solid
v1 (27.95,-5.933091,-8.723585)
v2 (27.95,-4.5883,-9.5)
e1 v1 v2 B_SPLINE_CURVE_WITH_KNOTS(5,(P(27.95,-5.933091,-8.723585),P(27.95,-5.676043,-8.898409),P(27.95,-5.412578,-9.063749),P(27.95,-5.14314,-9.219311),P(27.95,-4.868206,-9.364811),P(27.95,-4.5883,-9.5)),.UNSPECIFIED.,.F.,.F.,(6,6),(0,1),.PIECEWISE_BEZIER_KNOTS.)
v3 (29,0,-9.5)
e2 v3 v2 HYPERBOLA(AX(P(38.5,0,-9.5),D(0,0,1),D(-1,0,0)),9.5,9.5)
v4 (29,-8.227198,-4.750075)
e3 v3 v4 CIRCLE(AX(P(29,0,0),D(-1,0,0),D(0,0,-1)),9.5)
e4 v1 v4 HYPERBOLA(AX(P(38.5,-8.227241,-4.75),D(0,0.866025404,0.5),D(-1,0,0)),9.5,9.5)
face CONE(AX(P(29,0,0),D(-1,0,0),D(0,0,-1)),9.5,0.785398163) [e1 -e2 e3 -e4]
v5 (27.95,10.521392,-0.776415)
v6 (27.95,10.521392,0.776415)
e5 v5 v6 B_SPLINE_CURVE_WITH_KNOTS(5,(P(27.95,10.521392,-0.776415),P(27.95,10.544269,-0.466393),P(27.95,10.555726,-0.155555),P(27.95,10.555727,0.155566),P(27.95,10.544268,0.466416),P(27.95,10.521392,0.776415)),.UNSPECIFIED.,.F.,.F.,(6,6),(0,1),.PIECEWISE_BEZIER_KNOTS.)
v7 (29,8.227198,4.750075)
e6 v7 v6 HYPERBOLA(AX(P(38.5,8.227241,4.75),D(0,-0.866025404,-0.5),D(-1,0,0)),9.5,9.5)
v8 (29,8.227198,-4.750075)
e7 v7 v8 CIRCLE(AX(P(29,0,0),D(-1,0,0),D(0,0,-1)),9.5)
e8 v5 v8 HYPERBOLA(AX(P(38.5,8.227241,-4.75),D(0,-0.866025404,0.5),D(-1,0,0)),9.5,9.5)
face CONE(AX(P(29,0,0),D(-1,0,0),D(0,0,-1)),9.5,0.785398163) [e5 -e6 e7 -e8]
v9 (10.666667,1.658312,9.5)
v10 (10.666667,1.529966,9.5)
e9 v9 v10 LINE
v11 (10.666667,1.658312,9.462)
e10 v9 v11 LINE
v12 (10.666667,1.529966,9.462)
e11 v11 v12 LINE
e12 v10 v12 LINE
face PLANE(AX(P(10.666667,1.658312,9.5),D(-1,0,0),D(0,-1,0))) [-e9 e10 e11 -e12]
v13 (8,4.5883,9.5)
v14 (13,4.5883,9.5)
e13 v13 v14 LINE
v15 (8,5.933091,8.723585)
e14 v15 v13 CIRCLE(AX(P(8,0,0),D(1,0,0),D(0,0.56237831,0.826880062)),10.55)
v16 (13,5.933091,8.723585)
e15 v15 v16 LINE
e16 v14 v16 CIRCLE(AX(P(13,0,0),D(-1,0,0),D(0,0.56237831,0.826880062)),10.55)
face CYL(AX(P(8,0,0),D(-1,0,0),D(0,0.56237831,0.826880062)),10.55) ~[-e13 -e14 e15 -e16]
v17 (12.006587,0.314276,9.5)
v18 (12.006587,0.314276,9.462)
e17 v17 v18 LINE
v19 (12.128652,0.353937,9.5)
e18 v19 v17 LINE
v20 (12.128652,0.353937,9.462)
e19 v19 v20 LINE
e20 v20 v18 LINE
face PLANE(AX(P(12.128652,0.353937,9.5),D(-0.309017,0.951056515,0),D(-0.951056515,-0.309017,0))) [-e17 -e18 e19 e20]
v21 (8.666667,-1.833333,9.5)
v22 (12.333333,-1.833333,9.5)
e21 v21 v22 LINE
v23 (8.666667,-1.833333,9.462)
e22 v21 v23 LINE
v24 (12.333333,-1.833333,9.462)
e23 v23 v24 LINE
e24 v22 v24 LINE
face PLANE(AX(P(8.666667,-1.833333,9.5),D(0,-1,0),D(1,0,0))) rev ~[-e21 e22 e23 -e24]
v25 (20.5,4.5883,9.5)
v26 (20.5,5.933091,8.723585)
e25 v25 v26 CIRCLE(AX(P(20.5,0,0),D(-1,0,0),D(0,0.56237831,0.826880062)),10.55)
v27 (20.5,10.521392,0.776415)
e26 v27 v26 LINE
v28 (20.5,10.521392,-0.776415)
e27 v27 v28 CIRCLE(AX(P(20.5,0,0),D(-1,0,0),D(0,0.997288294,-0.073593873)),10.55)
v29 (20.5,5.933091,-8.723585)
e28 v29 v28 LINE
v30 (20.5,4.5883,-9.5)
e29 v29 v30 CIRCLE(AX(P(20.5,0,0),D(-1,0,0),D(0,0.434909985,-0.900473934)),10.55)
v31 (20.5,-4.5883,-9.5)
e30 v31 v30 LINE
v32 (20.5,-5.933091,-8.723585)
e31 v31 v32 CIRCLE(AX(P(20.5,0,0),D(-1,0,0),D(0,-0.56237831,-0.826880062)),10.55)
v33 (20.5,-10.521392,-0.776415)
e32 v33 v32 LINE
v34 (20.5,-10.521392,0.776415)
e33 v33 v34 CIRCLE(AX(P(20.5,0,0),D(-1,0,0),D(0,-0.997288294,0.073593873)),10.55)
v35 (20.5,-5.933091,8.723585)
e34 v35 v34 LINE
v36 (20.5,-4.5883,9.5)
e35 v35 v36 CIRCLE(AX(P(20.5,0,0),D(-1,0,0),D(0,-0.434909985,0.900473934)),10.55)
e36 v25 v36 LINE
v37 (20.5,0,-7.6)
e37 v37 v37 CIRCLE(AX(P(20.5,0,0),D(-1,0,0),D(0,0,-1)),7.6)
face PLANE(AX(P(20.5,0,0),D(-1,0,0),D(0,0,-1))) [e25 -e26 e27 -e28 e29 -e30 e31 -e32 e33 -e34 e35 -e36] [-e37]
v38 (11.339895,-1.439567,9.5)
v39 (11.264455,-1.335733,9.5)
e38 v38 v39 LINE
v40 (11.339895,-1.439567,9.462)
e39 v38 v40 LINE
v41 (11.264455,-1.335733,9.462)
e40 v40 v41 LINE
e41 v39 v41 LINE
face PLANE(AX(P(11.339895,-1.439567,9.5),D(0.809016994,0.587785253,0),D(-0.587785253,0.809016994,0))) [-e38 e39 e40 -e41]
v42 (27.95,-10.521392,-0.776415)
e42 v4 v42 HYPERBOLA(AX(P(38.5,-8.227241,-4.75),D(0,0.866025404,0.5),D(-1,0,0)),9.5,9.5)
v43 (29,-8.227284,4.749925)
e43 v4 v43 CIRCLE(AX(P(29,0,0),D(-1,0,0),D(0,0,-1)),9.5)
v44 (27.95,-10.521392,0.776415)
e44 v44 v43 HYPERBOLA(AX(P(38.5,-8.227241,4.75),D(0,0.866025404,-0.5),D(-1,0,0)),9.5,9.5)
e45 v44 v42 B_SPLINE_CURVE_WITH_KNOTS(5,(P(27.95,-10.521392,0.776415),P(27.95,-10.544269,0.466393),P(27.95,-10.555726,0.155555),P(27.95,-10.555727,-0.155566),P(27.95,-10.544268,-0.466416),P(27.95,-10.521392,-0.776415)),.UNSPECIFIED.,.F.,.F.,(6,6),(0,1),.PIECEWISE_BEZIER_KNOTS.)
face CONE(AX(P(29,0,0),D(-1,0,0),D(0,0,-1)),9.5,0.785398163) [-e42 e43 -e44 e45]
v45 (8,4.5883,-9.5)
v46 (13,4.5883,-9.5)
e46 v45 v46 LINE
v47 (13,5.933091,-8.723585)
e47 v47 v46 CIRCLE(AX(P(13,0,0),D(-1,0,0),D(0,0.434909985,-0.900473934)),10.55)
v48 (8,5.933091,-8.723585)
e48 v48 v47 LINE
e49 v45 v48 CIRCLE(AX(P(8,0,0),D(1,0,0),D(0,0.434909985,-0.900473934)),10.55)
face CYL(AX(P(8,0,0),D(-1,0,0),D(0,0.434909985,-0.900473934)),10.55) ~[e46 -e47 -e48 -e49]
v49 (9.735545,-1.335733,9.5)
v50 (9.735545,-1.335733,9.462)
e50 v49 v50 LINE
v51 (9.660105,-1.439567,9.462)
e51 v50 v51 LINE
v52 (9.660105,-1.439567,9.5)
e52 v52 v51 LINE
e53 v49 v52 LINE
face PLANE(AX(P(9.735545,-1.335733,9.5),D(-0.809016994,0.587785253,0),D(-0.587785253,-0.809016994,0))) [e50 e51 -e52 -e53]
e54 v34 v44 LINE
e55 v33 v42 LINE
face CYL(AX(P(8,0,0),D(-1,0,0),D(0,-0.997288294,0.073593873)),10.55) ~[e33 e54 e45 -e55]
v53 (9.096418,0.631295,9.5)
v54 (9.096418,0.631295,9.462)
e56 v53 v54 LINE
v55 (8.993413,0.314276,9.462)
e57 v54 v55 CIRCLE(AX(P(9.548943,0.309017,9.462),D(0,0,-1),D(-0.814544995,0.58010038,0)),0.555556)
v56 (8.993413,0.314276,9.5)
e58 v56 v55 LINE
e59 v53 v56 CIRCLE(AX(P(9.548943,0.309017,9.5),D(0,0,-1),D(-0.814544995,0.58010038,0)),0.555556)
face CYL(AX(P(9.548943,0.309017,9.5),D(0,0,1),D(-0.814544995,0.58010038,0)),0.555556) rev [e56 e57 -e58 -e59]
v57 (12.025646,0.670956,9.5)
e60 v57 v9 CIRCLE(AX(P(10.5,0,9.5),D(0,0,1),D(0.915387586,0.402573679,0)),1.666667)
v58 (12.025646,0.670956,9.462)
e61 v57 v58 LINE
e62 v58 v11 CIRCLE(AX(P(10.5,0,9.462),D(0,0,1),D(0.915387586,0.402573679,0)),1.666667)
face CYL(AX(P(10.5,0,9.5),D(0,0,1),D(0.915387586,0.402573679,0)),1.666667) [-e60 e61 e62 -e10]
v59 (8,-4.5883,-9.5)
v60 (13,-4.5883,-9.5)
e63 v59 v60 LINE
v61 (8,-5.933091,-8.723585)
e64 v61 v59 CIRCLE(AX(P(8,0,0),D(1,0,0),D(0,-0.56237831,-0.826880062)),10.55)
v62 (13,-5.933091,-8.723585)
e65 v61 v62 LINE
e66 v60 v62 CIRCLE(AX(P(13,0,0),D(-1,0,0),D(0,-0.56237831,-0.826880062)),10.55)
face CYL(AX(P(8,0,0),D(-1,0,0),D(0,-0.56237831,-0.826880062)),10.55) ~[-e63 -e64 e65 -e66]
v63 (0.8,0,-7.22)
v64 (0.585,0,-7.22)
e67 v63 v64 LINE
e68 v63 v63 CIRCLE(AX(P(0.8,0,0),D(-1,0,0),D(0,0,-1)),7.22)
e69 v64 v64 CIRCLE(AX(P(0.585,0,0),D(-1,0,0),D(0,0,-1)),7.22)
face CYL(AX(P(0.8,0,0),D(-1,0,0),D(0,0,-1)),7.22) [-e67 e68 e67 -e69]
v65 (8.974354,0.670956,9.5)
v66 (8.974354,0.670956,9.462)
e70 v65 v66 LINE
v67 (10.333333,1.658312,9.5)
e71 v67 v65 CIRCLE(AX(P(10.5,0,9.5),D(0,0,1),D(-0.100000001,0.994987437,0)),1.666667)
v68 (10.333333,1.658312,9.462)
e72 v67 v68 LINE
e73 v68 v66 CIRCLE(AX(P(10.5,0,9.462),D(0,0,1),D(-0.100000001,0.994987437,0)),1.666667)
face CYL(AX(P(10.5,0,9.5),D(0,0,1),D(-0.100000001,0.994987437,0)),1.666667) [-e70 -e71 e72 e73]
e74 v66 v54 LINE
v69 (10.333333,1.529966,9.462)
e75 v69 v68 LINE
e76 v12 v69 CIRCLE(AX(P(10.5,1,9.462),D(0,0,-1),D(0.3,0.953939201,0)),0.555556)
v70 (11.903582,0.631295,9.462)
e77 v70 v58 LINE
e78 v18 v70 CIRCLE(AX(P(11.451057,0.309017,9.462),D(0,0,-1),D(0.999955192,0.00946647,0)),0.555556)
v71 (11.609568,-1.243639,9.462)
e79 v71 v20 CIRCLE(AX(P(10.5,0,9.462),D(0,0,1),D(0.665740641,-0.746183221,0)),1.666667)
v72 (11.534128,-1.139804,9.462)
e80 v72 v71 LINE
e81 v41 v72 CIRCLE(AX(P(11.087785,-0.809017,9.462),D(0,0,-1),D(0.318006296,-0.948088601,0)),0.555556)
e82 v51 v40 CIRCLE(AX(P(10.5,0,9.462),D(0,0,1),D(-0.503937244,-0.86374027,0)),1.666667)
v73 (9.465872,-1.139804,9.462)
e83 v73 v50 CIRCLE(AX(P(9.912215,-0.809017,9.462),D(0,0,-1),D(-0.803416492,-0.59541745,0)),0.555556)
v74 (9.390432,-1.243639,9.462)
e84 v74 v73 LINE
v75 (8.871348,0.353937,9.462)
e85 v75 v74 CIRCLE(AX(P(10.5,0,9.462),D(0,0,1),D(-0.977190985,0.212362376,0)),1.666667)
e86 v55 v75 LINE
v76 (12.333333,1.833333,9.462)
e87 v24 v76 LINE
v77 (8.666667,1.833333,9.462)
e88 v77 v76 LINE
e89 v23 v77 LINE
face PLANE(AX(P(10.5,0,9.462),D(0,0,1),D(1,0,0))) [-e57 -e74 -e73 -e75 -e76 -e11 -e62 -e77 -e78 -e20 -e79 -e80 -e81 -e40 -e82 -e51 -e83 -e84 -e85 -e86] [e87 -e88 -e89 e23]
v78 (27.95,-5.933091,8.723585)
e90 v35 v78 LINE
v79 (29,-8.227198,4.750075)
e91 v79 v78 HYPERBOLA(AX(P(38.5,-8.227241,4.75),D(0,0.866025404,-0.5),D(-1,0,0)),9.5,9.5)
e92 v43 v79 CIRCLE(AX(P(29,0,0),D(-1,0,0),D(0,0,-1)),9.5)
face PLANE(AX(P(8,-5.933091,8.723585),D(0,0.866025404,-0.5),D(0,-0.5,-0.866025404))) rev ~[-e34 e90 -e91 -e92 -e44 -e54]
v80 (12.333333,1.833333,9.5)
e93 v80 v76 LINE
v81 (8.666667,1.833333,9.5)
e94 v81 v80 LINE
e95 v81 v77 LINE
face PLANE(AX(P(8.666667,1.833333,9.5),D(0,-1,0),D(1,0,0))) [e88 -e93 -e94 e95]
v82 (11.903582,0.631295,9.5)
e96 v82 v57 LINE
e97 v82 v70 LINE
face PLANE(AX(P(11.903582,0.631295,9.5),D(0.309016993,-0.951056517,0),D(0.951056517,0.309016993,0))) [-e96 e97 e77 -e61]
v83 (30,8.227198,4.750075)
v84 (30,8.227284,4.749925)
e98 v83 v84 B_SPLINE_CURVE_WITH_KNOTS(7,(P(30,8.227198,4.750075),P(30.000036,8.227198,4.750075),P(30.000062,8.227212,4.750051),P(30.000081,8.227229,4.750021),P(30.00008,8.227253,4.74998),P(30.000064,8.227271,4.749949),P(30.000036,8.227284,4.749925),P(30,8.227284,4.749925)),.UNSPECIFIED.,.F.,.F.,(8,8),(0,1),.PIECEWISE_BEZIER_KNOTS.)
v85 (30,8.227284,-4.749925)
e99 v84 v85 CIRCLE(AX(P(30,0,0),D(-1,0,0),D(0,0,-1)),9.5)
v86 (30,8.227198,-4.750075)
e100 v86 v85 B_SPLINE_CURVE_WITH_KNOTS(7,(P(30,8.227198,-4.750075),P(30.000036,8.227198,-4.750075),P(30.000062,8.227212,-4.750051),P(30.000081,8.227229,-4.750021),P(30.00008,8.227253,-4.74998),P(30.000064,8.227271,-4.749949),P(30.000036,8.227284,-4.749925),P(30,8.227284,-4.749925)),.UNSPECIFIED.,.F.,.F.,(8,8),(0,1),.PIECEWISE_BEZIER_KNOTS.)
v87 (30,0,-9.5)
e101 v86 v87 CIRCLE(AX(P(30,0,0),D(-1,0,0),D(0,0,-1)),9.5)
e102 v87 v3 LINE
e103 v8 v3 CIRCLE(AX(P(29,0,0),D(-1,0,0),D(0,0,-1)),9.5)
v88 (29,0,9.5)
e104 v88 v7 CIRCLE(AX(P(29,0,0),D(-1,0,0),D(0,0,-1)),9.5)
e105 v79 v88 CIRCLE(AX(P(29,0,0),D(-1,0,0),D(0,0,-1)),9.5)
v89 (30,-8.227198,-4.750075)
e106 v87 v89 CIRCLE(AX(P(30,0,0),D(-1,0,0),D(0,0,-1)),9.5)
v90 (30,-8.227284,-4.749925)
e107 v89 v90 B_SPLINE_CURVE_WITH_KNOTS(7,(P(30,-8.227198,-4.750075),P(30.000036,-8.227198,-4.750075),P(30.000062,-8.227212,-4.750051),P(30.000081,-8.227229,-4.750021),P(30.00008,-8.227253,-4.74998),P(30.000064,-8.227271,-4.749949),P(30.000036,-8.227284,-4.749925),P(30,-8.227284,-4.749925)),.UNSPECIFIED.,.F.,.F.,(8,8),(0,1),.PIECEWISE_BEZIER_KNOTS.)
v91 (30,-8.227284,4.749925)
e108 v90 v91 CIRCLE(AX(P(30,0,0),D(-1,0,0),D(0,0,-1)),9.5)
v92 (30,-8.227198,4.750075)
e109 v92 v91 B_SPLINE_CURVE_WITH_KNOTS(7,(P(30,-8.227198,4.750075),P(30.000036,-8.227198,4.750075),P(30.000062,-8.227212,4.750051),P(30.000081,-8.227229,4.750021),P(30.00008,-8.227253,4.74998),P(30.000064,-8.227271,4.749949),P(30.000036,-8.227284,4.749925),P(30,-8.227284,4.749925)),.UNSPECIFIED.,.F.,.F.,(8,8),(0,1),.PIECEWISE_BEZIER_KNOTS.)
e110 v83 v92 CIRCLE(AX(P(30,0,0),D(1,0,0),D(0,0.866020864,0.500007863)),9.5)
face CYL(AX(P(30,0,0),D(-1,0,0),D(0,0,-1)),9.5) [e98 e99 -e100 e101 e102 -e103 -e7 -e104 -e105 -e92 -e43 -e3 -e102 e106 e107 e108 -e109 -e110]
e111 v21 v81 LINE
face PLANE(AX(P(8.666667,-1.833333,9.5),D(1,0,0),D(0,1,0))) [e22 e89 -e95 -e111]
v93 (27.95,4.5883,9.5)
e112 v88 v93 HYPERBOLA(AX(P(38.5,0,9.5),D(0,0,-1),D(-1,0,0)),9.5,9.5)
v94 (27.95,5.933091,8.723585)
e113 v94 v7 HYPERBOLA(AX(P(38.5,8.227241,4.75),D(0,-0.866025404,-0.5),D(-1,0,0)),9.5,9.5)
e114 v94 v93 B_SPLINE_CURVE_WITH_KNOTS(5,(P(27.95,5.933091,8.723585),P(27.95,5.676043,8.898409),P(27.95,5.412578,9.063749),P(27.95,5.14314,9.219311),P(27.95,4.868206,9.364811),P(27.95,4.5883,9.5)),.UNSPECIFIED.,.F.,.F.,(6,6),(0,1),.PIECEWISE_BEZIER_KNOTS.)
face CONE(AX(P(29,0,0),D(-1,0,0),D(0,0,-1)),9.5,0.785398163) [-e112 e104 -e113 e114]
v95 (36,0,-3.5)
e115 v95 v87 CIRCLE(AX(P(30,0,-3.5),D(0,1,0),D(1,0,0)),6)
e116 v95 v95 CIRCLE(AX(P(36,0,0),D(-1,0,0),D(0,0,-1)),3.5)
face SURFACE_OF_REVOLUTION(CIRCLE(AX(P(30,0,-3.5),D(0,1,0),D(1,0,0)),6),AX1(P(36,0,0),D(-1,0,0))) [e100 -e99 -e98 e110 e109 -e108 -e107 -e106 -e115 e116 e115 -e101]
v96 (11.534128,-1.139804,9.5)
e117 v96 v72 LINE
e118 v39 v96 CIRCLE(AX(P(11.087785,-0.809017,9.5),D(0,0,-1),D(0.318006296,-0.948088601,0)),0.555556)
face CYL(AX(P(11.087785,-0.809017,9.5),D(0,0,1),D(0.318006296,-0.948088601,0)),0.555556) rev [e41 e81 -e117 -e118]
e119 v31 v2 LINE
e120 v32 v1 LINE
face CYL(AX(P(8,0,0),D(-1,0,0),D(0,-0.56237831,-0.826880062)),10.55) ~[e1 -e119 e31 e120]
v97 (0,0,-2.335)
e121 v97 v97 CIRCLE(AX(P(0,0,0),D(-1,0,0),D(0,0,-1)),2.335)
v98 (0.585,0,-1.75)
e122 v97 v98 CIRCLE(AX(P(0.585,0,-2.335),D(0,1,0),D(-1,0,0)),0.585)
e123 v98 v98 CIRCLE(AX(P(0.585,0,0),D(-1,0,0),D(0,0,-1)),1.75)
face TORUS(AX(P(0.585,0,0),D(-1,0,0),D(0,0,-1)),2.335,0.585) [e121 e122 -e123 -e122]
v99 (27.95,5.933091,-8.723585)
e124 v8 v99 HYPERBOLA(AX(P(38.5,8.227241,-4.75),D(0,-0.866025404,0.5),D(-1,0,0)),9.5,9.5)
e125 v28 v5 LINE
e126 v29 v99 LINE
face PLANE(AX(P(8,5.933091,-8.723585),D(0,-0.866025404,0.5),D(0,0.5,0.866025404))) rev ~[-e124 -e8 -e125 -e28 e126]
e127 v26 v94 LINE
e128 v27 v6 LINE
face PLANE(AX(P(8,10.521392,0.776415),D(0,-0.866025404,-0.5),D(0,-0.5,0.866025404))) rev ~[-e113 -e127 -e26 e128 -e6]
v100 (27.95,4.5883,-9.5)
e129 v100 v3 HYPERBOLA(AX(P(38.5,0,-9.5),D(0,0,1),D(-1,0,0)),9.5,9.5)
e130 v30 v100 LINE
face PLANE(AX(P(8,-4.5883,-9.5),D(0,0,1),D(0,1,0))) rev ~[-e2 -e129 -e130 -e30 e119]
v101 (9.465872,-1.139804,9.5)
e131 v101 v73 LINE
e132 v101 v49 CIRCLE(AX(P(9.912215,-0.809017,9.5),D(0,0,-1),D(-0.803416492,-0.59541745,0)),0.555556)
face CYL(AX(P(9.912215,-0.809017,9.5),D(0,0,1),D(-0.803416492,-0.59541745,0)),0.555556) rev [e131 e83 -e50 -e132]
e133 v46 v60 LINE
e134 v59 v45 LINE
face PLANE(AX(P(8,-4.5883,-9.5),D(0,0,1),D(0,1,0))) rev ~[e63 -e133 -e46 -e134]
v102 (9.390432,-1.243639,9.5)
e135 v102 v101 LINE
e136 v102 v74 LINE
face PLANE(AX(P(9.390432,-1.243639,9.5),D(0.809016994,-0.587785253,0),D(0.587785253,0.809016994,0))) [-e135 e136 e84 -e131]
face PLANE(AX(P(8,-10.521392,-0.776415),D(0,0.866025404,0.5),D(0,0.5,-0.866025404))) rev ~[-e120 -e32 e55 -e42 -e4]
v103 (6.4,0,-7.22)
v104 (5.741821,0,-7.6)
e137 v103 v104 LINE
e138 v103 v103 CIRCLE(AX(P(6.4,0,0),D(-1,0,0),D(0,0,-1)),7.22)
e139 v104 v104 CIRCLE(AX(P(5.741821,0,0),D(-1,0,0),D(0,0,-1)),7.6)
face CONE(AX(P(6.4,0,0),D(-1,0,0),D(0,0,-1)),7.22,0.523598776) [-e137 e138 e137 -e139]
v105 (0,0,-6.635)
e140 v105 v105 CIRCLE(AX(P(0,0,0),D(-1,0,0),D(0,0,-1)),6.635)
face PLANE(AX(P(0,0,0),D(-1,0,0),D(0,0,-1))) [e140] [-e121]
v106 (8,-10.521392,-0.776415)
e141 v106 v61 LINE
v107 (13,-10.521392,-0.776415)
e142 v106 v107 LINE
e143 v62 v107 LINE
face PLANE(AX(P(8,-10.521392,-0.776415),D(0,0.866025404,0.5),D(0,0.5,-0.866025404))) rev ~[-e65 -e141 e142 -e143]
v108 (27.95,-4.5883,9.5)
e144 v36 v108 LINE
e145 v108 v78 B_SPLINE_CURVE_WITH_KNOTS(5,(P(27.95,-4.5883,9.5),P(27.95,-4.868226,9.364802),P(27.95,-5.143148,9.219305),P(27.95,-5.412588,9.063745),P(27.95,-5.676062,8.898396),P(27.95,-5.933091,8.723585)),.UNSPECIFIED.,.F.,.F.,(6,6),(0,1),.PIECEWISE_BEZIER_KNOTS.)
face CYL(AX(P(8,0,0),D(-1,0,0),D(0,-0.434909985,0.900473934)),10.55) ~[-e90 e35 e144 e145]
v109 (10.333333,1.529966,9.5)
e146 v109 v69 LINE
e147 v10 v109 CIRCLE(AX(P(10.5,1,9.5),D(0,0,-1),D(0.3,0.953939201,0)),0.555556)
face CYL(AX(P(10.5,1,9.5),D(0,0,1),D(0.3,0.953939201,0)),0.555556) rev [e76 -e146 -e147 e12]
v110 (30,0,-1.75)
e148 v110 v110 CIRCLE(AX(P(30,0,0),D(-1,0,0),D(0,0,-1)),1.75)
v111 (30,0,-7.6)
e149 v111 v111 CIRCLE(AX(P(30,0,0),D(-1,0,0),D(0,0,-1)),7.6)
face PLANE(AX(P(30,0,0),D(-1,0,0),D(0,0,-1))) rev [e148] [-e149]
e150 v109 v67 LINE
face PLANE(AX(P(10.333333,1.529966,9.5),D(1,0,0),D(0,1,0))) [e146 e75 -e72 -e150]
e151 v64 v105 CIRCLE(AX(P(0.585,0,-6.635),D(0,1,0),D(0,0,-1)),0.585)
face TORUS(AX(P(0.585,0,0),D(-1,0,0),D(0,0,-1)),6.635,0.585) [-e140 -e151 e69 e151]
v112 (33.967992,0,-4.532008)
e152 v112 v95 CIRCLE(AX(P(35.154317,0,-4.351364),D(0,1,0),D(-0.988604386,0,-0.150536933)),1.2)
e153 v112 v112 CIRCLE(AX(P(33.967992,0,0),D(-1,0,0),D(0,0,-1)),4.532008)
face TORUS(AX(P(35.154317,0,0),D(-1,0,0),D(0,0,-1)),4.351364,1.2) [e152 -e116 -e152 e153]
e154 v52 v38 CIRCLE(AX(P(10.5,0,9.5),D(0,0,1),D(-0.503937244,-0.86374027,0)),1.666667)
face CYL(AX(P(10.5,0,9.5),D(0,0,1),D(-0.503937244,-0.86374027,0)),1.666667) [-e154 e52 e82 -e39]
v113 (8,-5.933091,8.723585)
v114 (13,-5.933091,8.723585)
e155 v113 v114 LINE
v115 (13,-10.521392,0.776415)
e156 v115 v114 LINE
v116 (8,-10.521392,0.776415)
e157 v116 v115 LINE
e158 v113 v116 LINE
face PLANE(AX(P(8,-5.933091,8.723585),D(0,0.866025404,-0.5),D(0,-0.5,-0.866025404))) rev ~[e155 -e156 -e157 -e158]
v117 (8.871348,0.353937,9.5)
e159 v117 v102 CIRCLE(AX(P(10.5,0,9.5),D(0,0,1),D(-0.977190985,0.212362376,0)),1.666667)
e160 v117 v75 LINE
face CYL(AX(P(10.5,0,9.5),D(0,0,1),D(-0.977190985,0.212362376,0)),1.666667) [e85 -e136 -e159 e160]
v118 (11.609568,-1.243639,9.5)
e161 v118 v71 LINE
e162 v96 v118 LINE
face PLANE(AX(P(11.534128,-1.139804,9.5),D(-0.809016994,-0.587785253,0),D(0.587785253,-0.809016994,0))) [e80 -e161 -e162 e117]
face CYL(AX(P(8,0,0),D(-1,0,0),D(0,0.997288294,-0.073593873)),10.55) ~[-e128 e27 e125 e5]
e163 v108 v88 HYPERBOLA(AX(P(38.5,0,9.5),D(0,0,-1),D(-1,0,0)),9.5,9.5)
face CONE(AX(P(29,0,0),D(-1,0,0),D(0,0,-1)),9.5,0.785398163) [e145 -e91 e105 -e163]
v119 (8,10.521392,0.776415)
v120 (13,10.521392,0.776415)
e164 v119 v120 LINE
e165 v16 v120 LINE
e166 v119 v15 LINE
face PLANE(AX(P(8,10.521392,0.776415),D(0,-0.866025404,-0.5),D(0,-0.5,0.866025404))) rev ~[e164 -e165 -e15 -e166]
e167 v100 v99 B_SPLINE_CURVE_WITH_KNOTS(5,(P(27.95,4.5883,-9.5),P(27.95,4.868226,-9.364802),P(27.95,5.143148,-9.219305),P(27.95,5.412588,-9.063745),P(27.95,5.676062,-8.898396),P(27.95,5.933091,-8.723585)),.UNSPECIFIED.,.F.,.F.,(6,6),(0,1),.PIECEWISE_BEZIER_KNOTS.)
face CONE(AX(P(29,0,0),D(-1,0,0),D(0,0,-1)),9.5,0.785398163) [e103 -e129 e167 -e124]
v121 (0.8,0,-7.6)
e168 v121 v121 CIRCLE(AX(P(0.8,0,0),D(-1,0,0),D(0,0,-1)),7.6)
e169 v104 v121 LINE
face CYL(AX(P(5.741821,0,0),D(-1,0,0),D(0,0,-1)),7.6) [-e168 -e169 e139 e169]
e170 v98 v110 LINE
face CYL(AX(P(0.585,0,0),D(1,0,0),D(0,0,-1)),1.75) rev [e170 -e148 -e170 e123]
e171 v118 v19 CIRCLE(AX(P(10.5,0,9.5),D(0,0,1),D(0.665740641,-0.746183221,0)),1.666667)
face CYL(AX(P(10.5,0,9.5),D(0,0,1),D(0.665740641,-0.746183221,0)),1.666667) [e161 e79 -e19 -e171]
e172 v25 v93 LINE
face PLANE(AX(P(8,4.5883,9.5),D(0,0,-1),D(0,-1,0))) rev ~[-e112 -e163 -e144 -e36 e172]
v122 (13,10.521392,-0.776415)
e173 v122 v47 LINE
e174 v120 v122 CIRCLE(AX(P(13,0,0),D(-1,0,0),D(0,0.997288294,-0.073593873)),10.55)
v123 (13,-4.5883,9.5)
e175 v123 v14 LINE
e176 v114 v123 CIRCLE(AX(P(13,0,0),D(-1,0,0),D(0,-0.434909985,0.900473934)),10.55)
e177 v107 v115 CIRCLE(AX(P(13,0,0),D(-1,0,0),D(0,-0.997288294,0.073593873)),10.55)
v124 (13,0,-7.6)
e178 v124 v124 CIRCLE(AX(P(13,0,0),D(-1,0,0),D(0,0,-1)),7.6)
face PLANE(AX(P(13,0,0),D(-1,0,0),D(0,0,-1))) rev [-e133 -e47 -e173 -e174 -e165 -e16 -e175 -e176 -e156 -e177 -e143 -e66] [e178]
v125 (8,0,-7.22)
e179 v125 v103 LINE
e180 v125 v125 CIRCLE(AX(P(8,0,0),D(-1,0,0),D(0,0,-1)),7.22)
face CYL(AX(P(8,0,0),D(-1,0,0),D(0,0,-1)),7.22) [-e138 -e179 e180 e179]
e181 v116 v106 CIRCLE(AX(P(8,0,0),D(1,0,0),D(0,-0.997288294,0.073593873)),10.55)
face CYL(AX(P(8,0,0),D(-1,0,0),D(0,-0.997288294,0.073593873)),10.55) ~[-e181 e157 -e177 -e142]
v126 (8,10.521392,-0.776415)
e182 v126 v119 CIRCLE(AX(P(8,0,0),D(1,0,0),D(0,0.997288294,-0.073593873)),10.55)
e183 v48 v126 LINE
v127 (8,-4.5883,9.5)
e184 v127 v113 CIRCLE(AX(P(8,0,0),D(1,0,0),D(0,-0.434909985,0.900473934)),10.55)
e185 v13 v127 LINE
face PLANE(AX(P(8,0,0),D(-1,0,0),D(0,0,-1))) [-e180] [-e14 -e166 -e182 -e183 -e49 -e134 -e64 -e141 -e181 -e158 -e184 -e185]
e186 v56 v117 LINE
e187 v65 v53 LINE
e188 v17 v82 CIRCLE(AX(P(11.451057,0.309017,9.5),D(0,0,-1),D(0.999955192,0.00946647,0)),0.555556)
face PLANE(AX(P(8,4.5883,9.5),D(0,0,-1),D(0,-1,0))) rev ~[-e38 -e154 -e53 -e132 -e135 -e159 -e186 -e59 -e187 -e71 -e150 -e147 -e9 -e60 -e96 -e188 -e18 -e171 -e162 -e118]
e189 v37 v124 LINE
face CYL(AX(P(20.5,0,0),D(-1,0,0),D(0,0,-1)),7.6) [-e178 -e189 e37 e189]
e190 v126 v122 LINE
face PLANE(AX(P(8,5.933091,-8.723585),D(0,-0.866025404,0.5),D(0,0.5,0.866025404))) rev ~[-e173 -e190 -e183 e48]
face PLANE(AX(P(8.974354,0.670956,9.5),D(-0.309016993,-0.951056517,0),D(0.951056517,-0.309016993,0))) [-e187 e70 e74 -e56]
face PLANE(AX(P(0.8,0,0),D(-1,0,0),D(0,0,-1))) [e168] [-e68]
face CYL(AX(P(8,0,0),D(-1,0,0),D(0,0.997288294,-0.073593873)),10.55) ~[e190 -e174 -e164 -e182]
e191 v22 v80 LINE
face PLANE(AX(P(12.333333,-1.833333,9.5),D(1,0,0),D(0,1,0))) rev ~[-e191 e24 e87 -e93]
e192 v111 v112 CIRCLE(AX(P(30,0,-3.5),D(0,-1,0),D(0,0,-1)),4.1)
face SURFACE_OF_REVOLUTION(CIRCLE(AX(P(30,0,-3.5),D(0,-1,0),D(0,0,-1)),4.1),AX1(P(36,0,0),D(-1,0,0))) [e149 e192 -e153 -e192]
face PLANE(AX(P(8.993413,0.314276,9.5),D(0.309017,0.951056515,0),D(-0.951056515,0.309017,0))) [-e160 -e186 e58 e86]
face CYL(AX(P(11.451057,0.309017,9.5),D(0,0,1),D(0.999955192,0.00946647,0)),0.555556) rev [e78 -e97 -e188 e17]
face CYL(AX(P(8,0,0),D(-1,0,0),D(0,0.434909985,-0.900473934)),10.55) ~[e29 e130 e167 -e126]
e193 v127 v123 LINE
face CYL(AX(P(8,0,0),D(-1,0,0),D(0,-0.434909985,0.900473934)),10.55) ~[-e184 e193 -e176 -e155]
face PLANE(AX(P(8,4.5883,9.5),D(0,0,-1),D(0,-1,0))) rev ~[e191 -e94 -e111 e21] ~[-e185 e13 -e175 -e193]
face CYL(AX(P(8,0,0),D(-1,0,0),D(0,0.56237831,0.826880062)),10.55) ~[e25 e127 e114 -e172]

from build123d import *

# Parameters (mm, degrees)
ESQUISSE2_W             = 38
ESQUISSE2_H             = 38
ENL_V_MAT_EXTRU_1_DEPTH = 36
ESQUISSE3_W             = 3.666666666
ESQUISSE3_H             = 3.666666666
ENL_V_MAT_EXTRU_2_DEPTH = 0.038


with BuildPart() as part:
    # Esquisse1 → Révolution1 (revolve)
    with BuildSketch(Plane.XY, mode=Mode.PRIVATE) as r_volution1_sk:
        with BuildLine():
            Line((0.585, 1.75), (30, 1.75))
            Line((30, 1.75), (30, 7.6))
            ThreePointArc((30, 7.6), (32.507864279, 6.743550024), (33.967991826, 4.532008174))
            ThreePointArc((33.967991826, 4.532008174), (34.610930007, 3.281443073), (36, 3.5))
            ThreePointArc((36, 3.5), (34.242640687, 7.742640687), (30, 9.5))
            Line((30, 9.5), (29, 9.5))
            Line((29, 9.5), (25.833333333, 12.666666667))
            Line((25.833333333, 12.666666667), (20.5, 12.666666667))
            Line((20.5, 12.666666667), (20.5, 7.6))
            Line((20.5, 7.6), (13, 7.6))
            Line((13, 7.6), (13, 12.666666667))
            Line((13, 12.666666667), (8, 12.666666667))
            Line((8, 12.666666667), (8, 7.22))
            Line((8, 7.22), (6.4, 7.22))
            Line((6.4, 7.22), (5.741820693, 7.6))
            Line((5.741820693, 7.6), (0.8, 7.6))
            Line((0.8, 7.6), (0.8, 7.22))
            Line((0.8, 7.22), (0.585, 7.22))
            ThreePointArc((0.585, 7.22), (0.171342533, 7.048657467), (0, 6.635))
            Line((0, 6.635), (0, 2.335))
            ThreePointArc((0, 2.335), (0.171342533, 1.921342533), (0.585, 1.75))
        make_face()
    revolve(r_volution1_sk.sketch.rotate(Axis((36, 0, 0), (-1, 0, 0)), 90), axis=Axis((36, 0, 0), (-1, 0, 0)))

    # Esquisse2 → Enlèv. mat.-Extru.1 (cut)
    with BuildSketch(Plane(origin=(8, 0, 0), x_dir=(0, 0, -1), z_dir=(1, 0, 0))):
        Rectangle(ESQUISSE2_W, ESQUISSE2_H)
        with BuildLine():
            Line((-9.5, 4.588300339), (-9.5, -4.588300339))
            ThreePointArc((-9.5, -4.588300339), (-9.13656801, -5.275), (-8.723584654, -5.933091166))
            Line((-8.723584654, -5.933091166), (-0.776415346, -10.521391505))
            ThreePointArc((-0.776415346, -10.521391505), (0, -10.55), (0.776415346, -10.521391505))
            Line((0.776415346, -10.521391505), (8.723584654, -5.933091166))
            ThreePointArc((8.723584654, -5.933091166), (9.13656801, -5.275), (9.5, -4.588300339))
            Line((9.5, -4.588300339), (9.5, 4.588300339))
            ThreePointArc((9.5, 4.588300339), (9.13656801, 5.275), (8.723584654, 5.933091166))
            Line((8.723584654, 5.933091166), (0.776415346, 10.521391505))
            ThreePointArc((0.776415346, 10.521391505), (0, 10.55), (-0.776415346, 10.521391505))
            Line((-0.776415346, 10.521391505), (-8.723584654, 5.933091166))
            ThreePointArc((-8.723584654, 5.933091166), (-9.13656801, 5.275), (-9.5, 4.588300339))
        make_face(mode=Mode.SUBTRACT)
    extrude(amount=ENL_V_MAT_EXTRU_1_DEPTH, mode=Mode.SUBTRACT)

    # Esquisse3 → Enlèv. mat.-Extru.2 (cut)
    with BuildSketch(Plane.XY.offset(9.5)):
        with Locations((10.5, 0)):
            Rectangle(ESQUISSE3_W, ESQUISSE3_H)
        with BuildLine():
            Line((9.390432265, -1.243638701), (9.465872252, -1.139804467))
            ThreePointArc((9.465872252, -1.139804467), (10.23876211, -0.359563109), (9.735544583, -1.335732884))
            Line((9.735544583, -1.335732884), (9.660104596, -1.439567118))
            ThreePointArc((9.660104596, -1.439567118), (10.5, -1.666666667), (11.339895404, -1.439567118))
            Line((11.339895404, -1.439567118), (11.264455417, -1.335732884))
            ThreePointArc((11.264455417, -1.335732884), (10.76123789, -0.359563109), (11.534127748, -1.139804467))
            Line((11.534127748, -1.139804467), (11.609567735, -1.243638701))
            ThreePointArc((11.609567735, -1.243638701), (12.085094194, -0.515028324), (12.128651642, 0.353937293))
            Line((12.128651642, 0.353937293), (12.006587179, 0.314276144))
            ThreePointArc((12.006587179, 0.314276144), (10.922691785, 0.137340886), (11.903581514, 0.631294983))
            Line((11.903581514, 0.631294983), (12.025645977, 0.670956131))
            ThreePointArc((12.025645977, 0.670956131), (11.479642087, 1.348361657), (10.666666667, 1.658312395))
            Line((10.666666667, 1.658312395), (10.666666667, 1.529966223))
            ThreePointArc((10.666666667, 1.529966223), (10.5, 0.444444444), (10.333333333, 1.529966223))
            Line((10.333333333, 1.529966223), (10.333333333, 1.658312395))
            ThreePointArc((10.333333333, 1.658312395), (9.520357913, 1.348361657), (8.974354023, 0.670956131))
            Line((8.974354023, 0.670956131), (9.096418486, 0.631294983))
            ThreePointArc((9.096418486, 0.631294983), (10.077308215, 0.137340886), (8.993412821, 0.314276144))
            Line((8.993412821, 0.314276144), (8.871348358, 0.353937293))
            ThreePointArc((8.871348358, 0.353937293), (8.914905806, -0.515028324), (9.390432265, -1.243638701))
        make_face(mode=Mode.SUBTRACT)
    extrude(amount=-ENL_V_MAT_EXTRU_2_DEPTH, mode=Mode.SUBTRACT)


solid = part.part
